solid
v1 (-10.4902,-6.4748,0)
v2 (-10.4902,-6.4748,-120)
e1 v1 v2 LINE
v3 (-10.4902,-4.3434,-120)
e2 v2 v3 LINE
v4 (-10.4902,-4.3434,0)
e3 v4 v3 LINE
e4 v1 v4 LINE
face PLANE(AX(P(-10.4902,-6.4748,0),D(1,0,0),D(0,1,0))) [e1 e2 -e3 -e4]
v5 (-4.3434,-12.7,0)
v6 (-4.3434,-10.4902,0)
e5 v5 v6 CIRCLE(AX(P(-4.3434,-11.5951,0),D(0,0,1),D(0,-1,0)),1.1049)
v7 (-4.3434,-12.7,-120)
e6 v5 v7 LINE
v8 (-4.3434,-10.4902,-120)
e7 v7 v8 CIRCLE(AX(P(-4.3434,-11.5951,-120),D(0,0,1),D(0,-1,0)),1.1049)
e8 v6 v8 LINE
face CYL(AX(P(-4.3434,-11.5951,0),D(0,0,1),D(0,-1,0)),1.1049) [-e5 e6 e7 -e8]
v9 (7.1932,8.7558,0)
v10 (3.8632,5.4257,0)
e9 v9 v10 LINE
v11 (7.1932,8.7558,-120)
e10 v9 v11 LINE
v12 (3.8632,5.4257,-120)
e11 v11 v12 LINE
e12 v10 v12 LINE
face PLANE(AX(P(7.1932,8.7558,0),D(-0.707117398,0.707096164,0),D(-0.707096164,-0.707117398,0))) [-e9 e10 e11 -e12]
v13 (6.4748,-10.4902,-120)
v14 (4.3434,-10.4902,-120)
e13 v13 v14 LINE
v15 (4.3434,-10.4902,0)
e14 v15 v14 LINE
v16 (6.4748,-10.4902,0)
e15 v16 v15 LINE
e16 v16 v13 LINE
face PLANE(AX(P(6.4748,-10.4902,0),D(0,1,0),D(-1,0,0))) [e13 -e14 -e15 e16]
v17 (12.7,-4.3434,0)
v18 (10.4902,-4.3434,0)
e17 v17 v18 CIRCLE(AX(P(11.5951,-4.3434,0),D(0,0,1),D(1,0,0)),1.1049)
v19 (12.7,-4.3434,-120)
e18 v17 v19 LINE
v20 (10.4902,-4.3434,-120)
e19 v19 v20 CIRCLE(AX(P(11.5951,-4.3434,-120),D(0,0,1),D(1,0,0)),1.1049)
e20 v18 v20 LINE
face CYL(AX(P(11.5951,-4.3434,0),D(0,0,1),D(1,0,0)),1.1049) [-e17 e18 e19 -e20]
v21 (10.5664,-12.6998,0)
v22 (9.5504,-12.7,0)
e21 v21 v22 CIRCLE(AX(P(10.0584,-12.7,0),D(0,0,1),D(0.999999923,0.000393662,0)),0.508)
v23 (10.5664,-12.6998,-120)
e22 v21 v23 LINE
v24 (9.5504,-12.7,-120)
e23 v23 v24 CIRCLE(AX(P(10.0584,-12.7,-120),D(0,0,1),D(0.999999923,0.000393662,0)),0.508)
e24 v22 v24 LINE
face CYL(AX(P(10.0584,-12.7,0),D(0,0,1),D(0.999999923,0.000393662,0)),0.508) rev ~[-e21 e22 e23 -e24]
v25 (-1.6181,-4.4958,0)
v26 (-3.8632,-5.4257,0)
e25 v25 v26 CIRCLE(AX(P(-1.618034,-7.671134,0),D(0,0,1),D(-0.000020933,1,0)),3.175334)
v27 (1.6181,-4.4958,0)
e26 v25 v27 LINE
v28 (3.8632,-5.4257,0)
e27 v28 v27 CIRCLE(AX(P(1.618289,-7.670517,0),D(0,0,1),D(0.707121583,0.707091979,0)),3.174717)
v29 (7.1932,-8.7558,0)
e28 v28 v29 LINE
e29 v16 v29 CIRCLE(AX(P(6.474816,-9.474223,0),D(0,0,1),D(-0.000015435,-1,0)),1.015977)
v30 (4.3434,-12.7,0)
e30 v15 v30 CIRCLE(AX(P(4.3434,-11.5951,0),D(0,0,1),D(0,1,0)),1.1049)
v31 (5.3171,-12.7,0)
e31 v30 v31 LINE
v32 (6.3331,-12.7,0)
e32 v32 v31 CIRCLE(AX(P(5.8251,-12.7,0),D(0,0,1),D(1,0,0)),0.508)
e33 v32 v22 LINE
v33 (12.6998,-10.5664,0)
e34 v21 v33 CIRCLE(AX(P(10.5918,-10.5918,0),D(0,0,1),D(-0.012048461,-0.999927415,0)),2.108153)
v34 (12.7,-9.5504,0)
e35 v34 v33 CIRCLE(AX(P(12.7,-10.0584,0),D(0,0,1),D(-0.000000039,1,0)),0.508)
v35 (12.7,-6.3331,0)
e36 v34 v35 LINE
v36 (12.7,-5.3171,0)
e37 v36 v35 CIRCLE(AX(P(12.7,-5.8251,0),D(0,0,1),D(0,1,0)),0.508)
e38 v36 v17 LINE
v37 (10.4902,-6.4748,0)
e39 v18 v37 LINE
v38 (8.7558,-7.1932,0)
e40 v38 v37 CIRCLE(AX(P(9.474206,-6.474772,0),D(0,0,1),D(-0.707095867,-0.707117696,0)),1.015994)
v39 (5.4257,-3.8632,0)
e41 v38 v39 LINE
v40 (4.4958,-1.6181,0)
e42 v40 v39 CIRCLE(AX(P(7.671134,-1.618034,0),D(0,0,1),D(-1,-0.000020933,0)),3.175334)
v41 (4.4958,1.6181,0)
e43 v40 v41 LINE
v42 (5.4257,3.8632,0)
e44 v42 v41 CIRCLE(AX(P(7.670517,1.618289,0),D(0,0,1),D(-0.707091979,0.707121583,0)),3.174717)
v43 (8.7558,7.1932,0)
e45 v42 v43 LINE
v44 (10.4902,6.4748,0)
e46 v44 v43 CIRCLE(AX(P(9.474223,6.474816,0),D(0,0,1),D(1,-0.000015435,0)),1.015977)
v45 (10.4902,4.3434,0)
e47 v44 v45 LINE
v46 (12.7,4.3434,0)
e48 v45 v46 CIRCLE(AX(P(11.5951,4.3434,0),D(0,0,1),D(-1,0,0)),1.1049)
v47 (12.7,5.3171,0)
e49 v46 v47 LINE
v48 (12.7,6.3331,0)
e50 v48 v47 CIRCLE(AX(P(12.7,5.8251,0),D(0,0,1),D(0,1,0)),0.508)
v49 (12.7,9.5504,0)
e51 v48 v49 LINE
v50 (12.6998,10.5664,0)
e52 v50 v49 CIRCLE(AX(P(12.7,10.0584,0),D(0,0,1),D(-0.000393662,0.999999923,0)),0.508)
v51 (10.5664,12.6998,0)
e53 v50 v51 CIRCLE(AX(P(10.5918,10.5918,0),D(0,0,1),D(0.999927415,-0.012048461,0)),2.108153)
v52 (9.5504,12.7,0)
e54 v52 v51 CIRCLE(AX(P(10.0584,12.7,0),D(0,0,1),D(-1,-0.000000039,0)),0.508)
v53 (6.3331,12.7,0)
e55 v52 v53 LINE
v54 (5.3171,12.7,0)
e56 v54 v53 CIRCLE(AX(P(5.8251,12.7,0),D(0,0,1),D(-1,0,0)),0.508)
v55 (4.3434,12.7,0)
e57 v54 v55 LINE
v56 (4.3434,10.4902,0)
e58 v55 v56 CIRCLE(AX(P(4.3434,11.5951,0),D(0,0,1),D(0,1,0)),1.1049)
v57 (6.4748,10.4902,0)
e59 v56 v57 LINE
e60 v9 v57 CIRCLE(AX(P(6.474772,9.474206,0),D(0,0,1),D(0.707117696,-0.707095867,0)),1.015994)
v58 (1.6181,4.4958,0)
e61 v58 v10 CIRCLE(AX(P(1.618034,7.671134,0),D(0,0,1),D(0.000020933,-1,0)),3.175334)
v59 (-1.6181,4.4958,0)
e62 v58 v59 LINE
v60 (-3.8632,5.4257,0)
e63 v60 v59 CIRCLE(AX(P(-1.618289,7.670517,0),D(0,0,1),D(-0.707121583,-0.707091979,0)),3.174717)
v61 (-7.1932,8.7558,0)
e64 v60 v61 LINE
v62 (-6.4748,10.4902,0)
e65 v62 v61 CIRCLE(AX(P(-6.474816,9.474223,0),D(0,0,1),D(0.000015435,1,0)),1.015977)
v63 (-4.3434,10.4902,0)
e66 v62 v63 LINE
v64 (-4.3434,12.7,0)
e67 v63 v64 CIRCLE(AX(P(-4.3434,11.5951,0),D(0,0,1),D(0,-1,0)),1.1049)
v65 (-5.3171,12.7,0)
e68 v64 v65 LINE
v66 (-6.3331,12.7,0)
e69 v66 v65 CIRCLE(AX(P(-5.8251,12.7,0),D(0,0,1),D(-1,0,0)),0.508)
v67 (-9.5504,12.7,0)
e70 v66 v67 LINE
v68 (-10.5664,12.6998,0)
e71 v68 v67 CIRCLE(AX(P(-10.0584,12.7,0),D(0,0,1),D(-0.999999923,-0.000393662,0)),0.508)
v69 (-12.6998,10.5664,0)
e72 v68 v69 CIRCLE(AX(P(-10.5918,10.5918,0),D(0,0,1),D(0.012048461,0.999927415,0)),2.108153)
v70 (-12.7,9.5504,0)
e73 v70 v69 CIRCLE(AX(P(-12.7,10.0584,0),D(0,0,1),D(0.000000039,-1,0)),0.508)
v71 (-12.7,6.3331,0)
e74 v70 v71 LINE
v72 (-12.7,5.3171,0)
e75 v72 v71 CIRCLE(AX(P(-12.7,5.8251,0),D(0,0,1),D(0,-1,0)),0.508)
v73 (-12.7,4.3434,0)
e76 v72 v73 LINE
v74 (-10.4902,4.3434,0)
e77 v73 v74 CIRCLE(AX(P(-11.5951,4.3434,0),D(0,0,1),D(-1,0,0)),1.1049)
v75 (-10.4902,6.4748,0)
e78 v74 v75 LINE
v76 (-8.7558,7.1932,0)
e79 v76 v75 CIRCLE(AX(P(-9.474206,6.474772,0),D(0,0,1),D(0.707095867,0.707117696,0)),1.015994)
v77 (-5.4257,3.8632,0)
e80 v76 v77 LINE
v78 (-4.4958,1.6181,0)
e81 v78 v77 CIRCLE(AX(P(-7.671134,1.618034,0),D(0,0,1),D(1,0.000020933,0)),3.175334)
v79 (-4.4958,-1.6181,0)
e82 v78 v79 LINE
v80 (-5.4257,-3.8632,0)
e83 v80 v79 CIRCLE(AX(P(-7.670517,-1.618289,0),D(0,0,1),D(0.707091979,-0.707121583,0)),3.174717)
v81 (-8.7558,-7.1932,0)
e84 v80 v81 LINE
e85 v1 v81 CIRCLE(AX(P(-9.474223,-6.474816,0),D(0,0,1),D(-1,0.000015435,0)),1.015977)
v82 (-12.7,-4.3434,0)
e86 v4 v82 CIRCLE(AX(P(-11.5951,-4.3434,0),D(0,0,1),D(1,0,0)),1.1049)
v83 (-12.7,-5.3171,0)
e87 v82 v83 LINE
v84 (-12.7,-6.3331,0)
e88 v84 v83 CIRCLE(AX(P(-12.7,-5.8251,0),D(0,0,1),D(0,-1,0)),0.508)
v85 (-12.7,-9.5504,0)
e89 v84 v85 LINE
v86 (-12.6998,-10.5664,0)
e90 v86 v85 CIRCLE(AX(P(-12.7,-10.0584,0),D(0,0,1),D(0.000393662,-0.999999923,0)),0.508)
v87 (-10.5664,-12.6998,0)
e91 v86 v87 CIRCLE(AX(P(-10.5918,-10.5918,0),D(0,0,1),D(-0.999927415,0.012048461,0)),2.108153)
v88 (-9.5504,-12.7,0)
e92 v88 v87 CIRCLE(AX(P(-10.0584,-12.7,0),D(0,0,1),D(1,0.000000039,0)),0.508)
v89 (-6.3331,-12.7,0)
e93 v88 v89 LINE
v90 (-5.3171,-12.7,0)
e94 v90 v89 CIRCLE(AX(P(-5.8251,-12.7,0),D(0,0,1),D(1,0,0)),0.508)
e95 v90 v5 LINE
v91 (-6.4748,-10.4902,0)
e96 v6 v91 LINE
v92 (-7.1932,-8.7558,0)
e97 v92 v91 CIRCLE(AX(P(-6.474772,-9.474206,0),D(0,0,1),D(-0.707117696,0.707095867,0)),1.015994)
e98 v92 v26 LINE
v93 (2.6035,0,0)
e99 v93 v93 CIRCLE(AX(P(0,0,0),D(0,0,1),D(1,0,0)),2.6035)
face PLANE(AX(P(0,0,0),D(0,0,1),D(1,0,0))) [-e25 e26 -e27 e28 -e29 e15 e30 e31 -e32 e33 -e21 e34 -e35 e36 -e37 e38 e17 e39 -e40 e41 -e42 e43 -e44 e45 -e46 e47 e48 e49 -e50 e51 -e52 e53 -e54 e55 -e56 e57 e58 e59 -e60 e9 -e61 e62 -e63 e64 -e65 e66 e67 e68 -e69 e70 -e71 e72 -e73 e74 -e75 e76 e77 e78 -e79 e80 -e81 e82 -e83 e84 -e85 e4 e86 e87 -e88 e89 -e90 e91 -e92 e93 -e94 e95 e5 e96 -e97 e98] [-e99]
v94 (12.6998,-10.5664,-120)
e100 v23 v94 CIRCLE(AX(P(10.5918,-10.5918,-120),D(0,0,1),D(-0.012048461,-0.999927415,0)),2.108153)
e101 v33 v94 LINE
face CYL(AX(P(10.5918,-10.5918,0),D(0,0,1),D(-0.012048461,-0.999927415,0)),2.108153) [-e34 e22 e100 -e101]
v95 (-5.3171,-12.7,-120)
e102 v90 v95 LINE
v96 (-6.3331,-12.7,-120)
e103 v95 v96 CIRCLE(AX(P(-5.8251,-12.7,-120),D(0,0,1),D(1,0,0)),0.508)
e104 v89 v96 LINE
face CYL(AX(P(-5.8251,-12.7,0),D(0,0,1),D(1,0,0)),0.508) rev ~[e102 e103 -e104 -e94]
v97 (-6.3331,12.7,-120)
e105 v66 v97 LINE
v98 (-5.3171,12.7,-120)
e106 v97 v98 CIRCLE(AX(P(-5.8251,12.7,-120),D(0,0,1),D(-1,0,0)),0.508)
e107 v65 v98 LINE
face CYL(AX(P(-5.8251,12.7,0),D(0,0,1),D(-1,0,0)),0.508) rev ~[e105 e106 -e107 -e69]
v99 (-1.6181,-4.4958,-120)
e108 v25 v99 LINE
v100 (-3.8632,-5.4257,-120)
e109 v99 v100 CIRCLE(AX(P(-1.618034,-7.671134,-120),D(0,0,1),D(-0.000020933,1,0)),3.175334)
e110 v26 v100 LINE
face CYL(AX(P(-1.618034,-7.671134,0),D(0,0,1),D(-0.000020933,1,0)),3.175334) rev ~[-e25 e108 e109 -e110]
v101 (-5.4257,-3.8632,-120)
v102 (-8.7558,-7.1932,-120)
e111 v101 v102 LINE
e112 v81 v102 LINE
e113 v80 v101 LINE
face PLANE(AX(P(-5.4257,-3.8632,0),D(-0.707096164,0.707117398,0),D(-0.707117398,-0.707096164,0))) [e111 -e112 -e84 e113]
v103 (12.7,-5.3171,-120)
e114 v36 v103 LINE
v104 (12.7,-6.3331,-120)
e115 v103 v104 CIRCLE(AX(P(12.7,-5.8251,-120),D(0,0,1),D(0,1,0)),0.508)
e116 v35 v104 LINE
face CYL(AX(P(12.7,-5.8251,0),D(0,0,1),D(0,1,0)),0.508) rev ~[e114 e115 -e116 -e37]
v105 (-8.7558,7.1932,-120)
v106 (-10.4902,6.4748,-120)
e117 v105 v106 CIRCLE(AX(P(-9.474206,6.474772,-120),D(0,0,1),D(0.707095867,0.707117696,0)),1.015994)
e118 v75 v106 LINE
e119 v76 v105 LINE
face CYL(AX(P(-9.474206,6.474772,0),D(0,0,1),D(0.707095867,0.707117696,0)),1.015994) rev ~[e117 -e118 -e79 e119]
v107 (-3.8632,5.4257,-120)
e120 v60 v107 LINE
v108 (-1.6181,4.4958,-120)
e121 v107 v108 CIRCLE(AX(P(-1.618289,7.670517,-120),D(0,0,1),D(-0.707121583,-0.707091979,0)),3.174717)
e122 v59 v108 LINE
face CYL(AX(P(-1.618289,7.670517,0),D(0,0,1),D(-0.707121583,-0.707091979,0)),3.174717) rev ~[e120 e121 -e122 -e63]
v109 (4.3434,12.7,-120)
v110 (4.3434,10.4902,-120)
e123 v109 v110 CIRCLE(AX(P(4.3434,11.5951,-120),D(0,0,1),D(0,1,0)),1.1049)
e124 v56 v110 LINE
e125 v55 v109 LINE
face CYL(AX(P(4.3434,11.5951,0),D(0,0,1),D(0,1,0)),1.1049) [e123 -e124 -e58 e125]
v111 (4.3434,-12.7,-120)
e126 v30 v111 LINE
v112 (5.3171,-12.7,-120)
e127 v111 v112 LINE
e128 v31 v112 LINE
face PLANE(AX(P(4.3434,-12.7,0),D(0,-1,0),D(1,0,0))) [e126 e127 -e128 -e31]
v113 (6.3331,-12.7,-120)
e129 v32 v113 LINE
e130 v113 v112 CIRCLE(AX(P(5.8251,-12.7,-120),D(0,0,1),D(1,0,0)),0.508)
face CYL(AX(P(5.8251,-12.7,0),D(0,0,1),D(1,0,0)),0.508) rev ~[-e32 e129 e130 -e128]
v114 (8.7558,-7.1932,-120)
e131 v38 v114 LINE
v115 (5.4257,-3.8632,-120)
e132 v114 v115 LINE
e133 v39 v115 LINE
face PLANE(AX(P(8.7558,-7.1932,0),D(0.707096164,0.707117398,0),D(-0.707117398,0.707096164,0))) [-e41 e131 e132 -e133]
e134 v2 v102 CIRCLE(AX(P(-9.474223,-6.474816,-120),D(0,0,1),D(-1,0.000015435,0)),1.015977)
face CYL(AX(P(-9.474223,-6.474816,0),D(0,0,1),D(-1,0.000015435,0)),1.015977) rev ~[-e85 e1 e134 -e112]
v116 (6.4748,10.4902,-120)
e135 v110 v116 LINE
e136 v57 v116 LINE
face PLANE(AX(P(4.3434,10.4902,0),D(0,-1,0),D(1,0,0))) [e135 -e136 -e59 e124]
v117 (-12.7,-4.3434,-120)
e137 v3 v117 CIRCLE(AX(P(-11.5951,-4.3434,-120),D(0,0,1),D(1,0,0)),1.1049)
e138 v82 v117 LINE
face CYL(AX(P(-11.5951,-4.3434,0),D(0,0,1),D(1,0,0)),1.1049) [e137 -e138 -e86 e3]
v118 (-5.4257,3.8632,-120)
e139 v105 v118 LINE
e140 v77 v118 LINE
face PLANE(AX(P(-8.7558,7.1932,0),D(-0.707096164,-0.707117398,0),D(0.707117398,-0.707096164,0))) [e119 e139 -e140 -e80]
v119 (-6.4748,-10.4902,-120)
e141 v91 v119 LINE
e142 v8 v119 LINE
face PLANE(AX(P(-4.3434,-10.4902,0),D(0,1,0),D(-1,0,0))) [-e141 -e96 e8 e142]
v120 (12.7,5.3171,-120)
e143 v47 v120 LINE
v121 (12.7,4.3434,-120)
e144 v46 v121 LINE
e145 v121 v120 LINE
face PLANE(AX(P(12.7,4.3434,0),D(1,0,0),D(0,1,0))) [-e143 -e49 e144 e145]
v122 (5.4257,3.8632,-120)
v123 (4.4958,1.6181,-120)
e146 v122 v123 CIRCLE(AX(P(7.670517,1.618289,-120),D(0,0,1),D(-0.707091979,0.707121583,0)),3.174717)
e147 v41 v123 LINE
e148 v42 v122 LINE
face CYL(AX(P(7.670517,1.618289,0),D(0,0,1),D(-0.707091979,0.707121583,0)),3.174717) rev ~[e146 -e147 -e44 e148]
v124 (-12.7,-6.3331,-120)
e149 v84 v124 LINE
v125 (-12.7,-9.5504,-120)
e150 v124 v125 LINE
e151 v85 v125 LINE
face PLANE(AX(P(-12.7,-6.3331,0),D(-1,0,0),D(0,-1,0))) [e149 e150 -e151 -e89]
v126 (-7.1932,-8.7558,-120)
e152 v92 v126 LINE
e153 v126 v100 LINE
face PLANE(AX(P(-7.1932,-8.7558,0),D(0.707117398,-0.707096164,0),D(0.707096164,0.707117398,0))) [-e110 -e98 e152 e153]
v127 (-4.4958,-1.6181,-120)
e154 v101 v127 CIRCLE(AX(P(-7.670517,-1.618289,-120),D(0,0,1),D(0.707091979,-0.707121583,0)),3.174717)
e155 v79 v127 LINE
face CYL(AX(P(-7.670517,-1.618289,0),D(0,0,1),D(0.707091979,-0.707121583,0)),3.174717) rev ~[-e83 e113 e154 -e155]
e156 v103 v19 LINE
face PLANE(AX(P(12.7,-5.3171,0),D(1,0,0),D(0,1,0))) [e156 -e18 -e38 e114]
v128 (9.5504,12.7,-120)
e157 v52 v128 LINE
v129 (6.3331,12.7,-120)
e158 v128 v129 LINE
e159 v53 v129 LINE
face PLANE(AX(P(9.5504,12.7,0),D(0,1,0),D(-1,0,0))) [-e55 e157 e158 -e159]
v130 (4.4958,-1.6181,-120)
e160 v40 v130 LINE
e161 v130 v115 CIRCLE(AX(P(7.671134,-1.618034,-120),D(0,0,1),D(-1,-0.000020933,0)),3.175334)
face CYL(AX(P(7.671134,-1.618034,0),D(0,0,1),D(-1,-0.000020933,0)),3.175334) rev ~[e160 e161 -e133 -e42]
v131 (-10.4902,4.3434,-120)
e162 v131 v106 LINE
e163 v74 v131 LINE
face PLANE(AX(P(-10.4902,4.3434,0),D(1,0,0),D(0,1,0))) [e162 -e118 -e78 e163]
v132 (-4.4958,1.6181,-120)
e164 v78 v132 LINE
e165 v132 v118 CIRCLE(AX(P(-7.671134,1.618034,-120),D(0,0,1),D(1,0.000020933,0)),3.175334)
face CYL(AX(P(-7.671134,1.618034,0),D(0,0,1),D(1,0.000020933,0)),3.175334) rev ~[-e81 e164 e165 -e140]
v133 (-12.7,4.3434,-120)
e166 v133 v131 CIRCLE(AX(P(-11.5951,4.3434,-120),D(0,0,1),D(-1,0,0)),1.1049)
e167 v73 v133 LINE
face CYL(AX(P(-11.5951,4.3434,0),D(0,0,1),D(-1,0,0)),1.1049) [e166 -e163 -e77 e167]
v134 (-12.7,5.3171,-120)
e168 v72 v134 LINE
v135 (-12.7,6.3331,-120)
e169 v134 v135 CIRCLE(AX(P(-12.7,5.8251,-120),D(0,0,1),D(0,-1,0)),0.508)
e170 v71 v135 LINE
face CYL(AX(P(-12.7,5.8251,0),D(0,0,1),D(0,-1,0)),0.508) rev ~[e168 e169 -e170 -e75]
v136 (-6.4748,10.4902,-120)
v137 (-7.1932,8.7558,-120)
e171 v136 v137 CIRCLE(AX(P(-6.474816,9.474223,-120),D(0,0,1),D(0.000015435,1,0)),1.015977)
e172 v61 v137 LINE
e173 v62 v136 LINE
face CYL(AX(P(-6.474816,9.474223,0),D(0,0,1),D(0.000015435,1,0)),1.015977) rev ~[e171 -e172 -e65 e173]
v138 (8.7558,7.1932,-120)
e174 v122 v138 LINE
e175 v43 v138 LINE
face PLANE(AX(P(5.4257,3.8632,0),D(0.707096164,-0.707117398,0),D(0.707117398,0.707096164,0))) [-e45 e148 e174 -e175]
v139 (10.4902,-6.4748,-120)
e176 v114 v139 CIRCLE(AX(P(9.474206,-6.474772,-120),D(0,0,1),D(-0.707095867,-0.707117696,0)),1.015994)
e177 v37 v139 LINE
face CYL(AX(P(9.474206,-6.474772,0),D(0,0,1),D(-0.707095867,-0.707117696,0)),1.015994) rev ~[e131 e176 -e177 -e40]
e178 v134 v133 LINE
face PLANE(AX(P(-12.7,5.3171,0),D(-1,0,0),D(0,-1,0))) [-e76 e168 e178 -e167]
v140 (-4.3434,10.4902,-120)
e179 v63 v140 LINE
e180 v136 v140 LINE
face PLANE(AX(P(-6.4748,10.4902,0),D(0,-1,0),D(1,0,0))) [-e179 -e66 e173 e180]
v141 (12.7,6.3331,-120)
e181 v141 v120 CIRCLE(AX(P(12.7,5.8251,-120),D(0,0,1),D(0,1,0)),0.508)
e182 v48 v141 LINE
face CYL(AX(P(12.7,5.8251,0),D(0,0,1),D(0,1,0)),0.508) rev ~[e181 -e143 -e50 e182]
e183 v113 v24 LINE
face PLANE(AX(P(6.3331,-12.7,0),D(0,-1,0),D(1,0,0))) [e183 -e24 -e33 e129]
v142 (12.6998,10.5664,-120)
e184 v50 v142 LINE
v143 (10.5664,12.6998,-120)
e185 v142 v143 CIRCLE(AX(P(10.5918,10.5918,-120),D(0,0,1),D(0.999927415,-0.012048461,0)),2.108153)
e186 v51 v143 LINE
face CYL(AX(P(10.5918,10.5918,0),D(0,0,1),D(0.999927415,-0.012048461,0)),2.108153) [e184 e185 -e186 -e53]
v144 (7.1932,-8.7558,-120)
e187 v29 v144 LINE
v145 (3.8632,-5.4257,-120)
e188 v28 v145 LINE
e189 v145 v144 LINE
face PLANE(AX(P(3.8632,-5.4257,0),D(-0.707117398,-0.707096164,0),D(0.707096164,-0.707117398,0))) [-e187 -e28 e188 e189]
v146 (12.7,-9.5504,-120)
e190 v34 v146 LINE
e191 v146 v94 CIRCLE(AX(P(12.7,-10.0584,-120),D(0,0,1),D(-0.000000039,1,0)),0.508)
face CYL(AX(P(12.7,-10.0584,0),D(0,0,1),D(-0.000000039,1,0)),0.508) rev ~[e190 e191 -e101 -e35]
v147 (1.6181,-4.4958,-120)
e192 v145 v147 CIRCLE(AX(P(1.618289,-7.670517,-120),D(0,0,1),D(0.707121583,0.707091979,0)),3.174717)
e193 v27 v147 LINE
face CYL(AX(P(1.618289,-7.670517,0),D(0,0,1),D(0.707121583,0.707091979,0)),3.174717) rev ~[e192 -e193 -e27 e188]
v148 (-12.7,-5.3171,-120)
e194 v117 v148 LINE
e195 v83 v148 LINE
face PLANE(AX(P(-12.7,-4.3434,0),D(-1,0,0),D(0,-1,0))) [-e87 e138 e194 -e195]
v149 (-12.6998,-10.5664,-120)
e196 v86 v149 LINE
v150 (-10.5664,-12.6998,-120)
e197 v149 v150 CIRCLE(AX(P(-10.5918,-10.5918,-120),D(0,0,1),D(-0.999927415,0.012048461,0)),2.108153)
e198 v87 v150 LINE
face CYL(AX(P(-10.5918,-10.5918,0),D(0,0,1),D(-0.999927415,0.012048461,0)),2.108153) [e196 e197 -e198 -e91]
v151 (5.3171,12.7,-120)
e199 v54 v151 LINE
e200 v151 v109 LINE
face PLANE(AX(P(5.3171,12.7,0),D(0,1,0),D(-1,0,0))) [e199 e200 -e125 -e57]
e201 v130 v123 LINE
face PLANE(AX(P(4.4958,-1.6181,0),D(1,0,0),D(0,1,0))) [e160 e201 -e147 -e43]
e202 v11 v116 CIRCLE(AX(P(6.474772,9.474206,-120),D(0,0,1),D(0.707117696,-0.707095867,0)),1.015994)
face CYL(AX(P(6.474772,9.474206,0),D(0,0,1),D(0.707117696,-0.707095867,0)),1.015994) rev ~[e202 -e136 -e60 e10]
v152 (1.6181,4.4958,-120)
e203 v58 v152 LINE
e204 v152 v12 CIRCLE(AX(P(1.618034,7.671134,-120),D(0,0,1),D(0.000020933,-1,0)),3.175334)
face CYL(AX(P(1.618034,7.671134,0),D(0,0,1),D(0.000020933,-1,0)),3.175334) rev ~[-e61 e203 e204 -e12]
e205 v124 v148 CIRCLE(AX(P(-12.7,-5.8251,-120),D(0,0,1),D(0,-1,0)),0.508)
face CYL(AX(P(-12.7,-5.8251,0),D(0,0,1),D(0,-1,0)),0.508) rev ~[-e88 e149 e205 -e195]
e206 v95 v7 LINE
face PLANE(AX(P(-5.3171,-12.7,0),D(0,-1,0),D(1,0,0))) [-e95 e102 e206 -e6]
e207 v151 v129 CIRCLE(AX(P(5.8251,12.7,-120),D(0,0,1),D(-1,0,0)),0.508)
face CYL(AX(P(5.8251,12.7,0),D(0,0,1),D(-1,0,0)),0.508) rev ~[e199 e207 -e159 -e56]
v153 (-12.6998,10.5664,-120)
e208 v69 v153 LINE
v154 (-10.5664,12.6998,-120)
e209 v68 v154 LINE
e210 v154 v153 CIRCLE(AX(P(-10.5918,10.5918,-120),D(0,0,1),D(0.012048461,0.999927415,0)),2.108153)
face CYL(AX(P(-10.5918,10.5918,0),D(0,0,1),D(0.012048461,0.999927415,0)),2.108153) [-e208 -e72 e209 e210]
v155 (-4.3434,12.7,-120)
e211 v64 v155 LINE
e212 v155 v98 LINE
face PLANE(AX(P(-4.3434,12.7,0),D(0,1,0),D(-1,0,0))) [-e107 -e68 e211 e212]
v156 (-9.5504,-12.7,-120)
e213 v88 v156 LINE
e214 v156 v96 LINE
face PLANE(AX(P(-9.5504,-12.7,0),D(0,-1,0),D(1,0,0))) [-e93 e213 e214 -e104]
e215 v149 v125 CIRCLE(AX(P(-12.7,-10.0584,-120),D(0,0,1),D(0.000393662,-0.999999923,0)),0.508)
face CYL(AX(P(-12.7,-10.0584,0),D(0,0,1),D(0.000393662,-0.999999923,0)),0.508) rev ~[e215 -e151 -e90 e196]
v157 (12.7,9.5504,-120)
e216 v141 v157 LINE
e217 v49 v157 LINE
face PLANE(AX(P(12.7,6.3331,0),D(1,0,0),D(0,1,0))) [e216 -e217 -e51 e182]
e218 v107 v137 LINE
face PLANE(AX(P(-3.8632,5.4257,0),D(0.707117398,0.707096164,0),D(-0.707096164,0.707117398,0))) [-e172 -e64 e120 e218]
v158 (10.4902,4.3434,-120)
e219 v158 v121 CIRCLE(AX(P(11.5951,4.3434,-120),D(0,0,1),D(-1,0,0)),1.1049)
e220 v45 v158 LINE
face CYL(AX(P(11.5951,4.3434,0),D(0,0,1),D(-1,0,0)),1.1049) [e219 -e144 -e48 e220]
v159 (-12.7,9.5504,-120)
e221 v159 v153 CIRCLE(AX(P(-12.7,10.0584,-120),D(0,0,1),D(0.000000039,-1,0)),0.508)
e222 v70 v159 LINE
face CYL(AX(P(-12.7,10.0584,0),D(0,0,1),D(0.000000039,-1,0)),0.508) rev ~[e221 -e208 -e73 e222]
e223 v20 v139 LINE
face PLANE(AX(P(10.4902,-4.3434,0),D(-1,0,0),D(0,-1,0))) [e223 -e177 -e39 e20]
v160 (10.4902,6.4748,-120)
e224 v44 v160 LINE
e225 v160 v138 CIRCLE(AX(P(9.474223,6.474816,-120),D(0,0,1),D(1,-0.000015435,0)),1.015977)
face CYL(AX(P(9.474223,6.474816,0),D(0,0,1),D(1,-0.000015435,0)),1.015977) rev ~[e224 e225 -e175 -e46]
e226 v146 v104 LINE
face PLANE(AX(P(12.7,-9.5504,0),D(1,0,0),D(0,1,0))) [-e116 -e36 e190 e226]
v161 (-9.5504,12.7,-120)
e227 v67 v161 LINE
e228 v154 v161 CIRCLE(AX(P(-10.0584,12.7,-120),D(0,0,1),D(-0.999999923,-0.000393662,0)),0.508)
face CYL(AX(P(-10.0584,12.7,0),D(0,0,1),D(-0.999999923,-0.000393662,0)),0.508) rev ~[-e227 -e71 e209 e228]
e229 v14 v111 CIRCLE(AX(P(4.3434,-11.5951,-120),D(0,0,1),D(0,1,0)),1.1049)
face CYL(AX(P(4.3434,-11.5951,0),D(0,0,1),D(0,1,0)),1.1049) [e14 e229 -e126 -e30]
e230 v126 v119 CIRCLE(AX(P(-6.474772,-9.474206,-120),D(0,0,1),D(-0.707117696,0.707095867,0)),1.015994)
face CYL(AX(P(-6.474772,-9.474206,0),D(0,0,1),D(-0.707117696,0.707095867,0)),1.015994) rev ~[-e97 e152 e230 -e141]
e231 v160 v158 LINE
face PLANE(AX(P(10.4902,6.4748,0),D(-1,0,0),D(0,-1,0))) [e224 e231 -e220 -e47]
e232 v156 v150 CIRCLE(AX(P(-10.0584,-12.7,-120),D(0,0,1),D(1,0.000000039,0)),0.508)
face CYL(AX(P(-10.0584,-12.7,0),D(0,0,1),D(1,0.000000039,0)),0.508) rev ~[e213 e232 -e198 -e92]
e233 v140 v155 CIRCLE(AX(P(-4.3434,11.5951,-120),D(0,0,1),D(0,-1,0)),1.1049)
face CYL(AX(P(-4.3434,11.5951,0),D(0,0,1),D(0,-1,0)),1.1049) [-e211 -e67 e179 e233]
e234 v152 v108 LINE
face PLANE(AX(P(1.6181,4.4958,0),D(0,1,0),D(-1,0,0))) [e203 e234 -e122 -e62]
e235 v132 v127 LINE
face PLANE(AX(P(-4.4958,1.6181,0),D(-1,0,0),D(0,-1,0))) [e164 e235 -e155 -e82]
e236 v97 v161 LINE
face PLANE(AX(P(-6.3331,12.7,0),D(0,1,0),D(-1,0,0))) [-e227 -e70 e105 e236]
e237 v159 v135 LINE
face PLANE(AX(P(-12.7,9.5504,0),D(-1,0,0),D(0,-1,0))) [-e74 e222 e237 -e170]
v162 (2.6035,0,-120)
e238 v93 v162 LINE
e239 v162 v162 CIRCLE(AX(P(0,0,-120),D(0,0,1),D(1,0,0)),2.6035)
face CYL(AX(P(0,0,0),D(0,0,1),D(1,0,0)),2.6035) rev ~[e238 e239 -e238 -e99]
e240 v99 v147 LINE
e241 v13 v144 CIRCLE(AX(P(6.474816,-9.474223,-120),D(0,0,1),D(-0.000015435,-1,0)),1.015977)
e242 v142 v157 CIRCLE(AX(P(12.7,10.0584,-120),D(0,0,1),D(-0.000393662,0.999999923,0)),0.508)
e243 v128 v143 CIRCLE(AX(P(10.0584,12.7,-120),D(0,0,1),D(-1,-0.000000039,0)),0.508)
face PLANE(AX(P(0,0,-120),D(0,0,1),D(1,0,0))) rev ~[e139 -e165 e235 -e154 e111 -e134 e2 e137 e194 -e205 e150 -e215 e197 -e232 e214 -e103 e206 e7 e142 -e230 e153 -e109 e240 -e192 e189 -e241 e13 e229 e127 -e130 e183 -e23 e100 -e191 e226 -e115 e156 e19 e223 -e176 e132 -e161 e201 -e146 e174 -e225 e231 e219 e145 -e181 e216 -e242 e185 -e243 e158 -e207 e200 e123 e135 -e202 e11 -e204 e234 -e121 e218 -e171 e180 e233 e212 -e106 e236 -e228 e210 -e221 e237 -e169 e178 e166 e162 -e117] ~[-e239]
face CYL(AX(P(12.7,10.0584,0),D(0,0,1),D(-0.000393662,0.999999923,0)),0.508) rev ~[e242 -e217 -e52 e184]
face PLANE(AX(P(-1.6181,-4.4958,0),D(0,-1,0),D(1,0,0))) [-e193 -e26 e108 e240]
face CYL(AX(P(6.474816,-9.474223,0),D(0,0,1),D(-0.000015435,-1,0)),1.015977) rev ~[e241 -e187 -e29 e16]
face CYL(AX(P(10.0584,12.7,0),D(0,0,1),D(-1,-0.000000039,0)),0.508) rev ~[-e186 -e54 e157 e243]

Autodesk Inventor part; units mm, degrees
sketch "Sketch_1" plane through (0, 0, 0) normal (0, 0, 1) x (1, 0, 0)
  arc A0 (-12.6998, -10.5664) -> (-10.5664, -12.6998) centre (-10.5918, -10.5918) ccw
  arc A1 (-9.5504, -12.7) -> (-10.5664, -12.6998) centre (-10.0584, -12.7) ccw
  line L0 (-9.5504, -12.7) -> (-6.3331, -12.7)
  arc A2 (-5.3171, -12.7) -> (-6.3331, -12.7) centre (-5.8251, -12.7) ccw
  line L1 (-5.3171, -12.7) -> (-4.3434, -12.7)
  arc A3 (-4.3434, -12.7) -> (-4.3434, -10.4902) centre (-4.3434, -11.5951) ccw
  line L2 (-4.3434, -10.4902) -> (-6.4748, -10.4902)
  arc A4 (-7.1932, -8.7558) -> (-6.4748, -10.4902) centre (-6.4748, -9.4742) ccw
  line L3 (-7.1932, -8.7558) -> (-3.8632, -5.4257)
  arc A5 (-1.6181, -4.4958) -> (-3.8632, -5.4257) centre (-1.6181, -7.6708) ccw
  line L4 (-1.6181, -4.4958) -> (1.6181, -4.4958)
  arc A6 (3.8632, -5.4257) -> (1.6181, -4.4958) centre (1.6181, -7.6708) ccw
  line L5 (3.8632, -5.4257) -> (7.1932, -8.7558)
  arc A7 (6.4748, -10.4902) -> (7.1932, -8.7558) centre (6.4748, -9.4742) ccw
  line L6 (6.4748, -10.4902) -> (4.3434, -10.4902)
  arc A8 (4.3434, -10.4902) -> (4.3434, -12.7) centre (4.3434, -11.5951) ccw
  line L7 (4.3434, -12.7) -> (5.3171, -12.7)
  arc A9 (6.3331, -12.7) -> (5.3171, -12.7) centre (5.8251, -12.7) ccw
  line L8 (6.3331, -12.7) -> (9.5504, -12.7)
  arc A10 (10.5664, -12.6998) -> (9.5504, -12.7) centre (10.0584, -12.7) ccw
  arc A11 (10.5664, -12.6998) -> (12.6998, -10.5664) centre (10.5918, -10.5918) ccw
  arc A12 (12.7, -9.5504) -> (12.6998, -10.5664) centre (12.7, -10.0584) ccw
  line L9 (12.7, -9.5504) -> (12.7, -6.3331)
  arc A13 (12.7, -5.3171) -> (12.7, -6.3331) centre (12.7, -5.8251) ccw
  line L10 (12.7, -5.3171) -> (12.7, -4.3434)
  arc A14 (12.7, -4.3434) -> (10.4902, -4.3434) centre (11.5951, -4.3434) ccw
  line L11 (10.4902, -4.3434) -> (10.4902, -6.4748)
  arc A15 (8.7558, -7.1932) -> (10.4902, -6.4748) centre (9.4742, -6.4748) ccw
  line L12 (8.7558, -7.1932) -> (5.4257, -3.8632)
  arc A16 (4.4958, -1.6181) -> (5.4257, -3.8632) centre (7.6708, -1.6181) ccw
  line L13 (4.4958, -1.6181) -> (4.4958, 1.6181)
  arc A17 (5.4257, 3.8632) -> (4.4958, 1.6181) centre (7.6708, 1.6181) ccw
  line L14 (5.4257, 3.8632) -> (8.7558, 7.1932)
  arc A18 (10.4902, 6.4748) -> (8.7558, 7.1932) centre (9.4742, 6.4748) ccw
  line L15 (10.4902, 6.4748) -> (10.4902, 4.3434)
  arc A19 (10.4902, 4.3434) -> (12.7, 4.3434) centre (11.5951, 4.3434) ccw
  line L16 (12.7, 4.3434) -> (12.7, 5.3171)
  arc A20 (12.7, 6.3331) -> (12.7, 5.3171) centre (12.7, 5.8251) ccw
  line L17 (12.7, 6.3331) -> (12.7, 9.5504)
  arc A21 (12.6998, 10.5664) -> (12.7, 9.5504) centre (12.7, 10.0584) ccw
  arc A22 (12.6998, 10.5664) -> (10.5664, 12.6998) centre (10.5918, 10.5918) ccw
  arc A23 (9.5504, 12.7) -> (10.5664, 12.6998) centre (10.0584, 12.7) ccw
  line L18 (9.5504, 12.7) -> (6.3331, 12.7)
  arc A24 (5.3171, 12.7) -> (6.3331, 12.7) centre (5.8251, 12.7) ccw
  line L19 (5.3171, 12.7) -> (4.3434, 12.7)
  arc A25 (4.3434, 12.7) -> (4.3434, 10.4902) centre (4.3434, 11.5951) ccw
  line L20 (4.3434, 10.4902) -> (6.4748, 10.4902)
  arc A26 (7.1932, 8.7558) -> (6.4748, 10.4902) centre (6.4748, 9.4742) ccw
  line L21 (7.1932, 8.7558) -> (3.8632, 5.4257)
  arc A27 (1.6181, 4.4958) -> (3.8632, 5.4257) centre (1.6181, 7.6708) ccw
  line L22 (1.6181, 4.4958) -> (-1.6181, 4.4958)
  arc A28 (-3.8632, 5.4257) -> (-1.6181, 4.4958) centre (-1.6181, 7.6708) ccw
  line L23 (-3.8632, 5.4257) -> (-7.1932, 8.7558)
  arc A29 (-6.4748, 10.4902) -> (-7.1932, 8.7558) centre (-6.4748, 9.4742) ccw
  line L24 (-6.4748, 10.4902) -> (-4.3434, 10.4902)
  arc A30 (-4.3434, 10.4902) -> (-4.3434, 12.7) centre (-4.3434, 11.5951) ccw
  line L25 (-4.3434, 12.7) -> (-5.3171, 12.7)
  arc A31 (-6.3331, 12.7) -> (-5.3171, 12.7) centre (-5.8251, 12.7) ccw
  line L26 (-6.3331, 12.7) -> (-9.5504, 12.7)
  arc A32 (-10.5664, 12.6998) -> (-9.5504, 12.7) centre (-10.0584, 12.7) ccw
  arc A33 (-10.5664, 12.6998) -> (-12.6998, 10.5664) centre (-10.5918, 10.5918) ccw
  arc A34 (-12.7, 9.5504) -> (-12.6998, 10.5664) centre (-12.7, 10.0584) ccw
  line L27 (-12.7, 9.5504) -> (-12.7, 6.3331)
  arc A35 (-12.7, 5.3171) -> (-12.7, 6.3331) centre (-12.7, 5.8251) ccw
  line L28 (-12.7, 5.3171) -> (-12.7, 4.3434)
  arc A36 (-12.7, 4.3434) -> (-10.4902, 4.3434) centre (-11.5951, 4.3434) ccw
  line L29 (-10.4902, 4.3434) -> (-10.4902, 6.4748)
  arc A37 (-8.7558, 7.1932) -> (-10.4902, 6.4748) centre (-9.4742, 6.4748) ccw
  line L30 (-8.7558, 7.1932) -> (-5.4257, 3.8632)
  arc A38 (-4.4958, 1.6181) -> (-5.4257, 3.8632) centre (-7.6708, 1.6181) ccw
  line L31 (-4.4958, 1.6181) -> (-4.4958, -1.6181)
  arc A39 (-5.4257, -3.8632) -> (-4.4958, -1.6181) centre (-7.6708, -1.6181) ccw
  line L32 (-5.4257, -3.8632) -> (-8.7558, -7.1932)
  arc A40 (-10.4902, -6.4748) -> (-8.7558, -7.1932) centre (-9.4742, -6.4748) ccw
  line L33 (-10.4902, -6.4748) -> (-10.4902, -4.3434)
  arc A41 (-10.4902, -4.3434) -> (-12.7, -4.3434) centre (-11.5951, -4.3434) ccw
  line L34 (-12.7, -4.3434) -> (-12.7, -5.3171)
  arc A42 (-12.7, -6.3331) -> (-12.7, -5.3171) centre (-12.7, -5.8251) ccw
  line L35 (-12.7, -6.3331) -> (-12.7, -9.5504)
  arc A43 (-12.6998, -10.5664) -> (-12.7, -9.5504) centre (-12.7, -10.0584) ccw
  circle A44 centre (0, 0) radius 2.6035
extrude "Extrusion1" add sketch "Sketch_1" against normal blind 120
ref_plane "b1_XY" through (-12.7, 0, -12.7) normal (1, 0, 0) x (0, 0, -1)
ref_plane "b1_YZ" through (-12.7, 0, -12.7) normal (0, 0, -1) x (0, 1, 0)
ref_plane "b1_ZX" through (-12.7, 0, -12.7) normal (0, 1, 0) x (1, 0, 0)
ref_plane "b2_XY" through (12.7, 0, -12.7) normal (1, 0, 0) x (0, 0, -1)
ref_plane "b2_YZ" through (12.7, 0, -12.7) normal (0, 0, -1) x (0, 1, 0)
ref_plane "b2_ZX" through (12.7, 0, -12.7) normal (0, 1, 0) x (1, 0, 0)
ref_plane "profile1010_XY" through (0, 0, -12.7) normal (0, 0, 1) x (1, 0, 0)
ref_plane "profile1010_YZ" through (0, 0, -12.7) normal (1, 0, 0) x (0, 1, 0)
ref_plane "profile1010_ZX" through (0, 0, -12.7) normal (0, 1, 0) x (0, 0, 1)
properties part number "1010-1-CL"
